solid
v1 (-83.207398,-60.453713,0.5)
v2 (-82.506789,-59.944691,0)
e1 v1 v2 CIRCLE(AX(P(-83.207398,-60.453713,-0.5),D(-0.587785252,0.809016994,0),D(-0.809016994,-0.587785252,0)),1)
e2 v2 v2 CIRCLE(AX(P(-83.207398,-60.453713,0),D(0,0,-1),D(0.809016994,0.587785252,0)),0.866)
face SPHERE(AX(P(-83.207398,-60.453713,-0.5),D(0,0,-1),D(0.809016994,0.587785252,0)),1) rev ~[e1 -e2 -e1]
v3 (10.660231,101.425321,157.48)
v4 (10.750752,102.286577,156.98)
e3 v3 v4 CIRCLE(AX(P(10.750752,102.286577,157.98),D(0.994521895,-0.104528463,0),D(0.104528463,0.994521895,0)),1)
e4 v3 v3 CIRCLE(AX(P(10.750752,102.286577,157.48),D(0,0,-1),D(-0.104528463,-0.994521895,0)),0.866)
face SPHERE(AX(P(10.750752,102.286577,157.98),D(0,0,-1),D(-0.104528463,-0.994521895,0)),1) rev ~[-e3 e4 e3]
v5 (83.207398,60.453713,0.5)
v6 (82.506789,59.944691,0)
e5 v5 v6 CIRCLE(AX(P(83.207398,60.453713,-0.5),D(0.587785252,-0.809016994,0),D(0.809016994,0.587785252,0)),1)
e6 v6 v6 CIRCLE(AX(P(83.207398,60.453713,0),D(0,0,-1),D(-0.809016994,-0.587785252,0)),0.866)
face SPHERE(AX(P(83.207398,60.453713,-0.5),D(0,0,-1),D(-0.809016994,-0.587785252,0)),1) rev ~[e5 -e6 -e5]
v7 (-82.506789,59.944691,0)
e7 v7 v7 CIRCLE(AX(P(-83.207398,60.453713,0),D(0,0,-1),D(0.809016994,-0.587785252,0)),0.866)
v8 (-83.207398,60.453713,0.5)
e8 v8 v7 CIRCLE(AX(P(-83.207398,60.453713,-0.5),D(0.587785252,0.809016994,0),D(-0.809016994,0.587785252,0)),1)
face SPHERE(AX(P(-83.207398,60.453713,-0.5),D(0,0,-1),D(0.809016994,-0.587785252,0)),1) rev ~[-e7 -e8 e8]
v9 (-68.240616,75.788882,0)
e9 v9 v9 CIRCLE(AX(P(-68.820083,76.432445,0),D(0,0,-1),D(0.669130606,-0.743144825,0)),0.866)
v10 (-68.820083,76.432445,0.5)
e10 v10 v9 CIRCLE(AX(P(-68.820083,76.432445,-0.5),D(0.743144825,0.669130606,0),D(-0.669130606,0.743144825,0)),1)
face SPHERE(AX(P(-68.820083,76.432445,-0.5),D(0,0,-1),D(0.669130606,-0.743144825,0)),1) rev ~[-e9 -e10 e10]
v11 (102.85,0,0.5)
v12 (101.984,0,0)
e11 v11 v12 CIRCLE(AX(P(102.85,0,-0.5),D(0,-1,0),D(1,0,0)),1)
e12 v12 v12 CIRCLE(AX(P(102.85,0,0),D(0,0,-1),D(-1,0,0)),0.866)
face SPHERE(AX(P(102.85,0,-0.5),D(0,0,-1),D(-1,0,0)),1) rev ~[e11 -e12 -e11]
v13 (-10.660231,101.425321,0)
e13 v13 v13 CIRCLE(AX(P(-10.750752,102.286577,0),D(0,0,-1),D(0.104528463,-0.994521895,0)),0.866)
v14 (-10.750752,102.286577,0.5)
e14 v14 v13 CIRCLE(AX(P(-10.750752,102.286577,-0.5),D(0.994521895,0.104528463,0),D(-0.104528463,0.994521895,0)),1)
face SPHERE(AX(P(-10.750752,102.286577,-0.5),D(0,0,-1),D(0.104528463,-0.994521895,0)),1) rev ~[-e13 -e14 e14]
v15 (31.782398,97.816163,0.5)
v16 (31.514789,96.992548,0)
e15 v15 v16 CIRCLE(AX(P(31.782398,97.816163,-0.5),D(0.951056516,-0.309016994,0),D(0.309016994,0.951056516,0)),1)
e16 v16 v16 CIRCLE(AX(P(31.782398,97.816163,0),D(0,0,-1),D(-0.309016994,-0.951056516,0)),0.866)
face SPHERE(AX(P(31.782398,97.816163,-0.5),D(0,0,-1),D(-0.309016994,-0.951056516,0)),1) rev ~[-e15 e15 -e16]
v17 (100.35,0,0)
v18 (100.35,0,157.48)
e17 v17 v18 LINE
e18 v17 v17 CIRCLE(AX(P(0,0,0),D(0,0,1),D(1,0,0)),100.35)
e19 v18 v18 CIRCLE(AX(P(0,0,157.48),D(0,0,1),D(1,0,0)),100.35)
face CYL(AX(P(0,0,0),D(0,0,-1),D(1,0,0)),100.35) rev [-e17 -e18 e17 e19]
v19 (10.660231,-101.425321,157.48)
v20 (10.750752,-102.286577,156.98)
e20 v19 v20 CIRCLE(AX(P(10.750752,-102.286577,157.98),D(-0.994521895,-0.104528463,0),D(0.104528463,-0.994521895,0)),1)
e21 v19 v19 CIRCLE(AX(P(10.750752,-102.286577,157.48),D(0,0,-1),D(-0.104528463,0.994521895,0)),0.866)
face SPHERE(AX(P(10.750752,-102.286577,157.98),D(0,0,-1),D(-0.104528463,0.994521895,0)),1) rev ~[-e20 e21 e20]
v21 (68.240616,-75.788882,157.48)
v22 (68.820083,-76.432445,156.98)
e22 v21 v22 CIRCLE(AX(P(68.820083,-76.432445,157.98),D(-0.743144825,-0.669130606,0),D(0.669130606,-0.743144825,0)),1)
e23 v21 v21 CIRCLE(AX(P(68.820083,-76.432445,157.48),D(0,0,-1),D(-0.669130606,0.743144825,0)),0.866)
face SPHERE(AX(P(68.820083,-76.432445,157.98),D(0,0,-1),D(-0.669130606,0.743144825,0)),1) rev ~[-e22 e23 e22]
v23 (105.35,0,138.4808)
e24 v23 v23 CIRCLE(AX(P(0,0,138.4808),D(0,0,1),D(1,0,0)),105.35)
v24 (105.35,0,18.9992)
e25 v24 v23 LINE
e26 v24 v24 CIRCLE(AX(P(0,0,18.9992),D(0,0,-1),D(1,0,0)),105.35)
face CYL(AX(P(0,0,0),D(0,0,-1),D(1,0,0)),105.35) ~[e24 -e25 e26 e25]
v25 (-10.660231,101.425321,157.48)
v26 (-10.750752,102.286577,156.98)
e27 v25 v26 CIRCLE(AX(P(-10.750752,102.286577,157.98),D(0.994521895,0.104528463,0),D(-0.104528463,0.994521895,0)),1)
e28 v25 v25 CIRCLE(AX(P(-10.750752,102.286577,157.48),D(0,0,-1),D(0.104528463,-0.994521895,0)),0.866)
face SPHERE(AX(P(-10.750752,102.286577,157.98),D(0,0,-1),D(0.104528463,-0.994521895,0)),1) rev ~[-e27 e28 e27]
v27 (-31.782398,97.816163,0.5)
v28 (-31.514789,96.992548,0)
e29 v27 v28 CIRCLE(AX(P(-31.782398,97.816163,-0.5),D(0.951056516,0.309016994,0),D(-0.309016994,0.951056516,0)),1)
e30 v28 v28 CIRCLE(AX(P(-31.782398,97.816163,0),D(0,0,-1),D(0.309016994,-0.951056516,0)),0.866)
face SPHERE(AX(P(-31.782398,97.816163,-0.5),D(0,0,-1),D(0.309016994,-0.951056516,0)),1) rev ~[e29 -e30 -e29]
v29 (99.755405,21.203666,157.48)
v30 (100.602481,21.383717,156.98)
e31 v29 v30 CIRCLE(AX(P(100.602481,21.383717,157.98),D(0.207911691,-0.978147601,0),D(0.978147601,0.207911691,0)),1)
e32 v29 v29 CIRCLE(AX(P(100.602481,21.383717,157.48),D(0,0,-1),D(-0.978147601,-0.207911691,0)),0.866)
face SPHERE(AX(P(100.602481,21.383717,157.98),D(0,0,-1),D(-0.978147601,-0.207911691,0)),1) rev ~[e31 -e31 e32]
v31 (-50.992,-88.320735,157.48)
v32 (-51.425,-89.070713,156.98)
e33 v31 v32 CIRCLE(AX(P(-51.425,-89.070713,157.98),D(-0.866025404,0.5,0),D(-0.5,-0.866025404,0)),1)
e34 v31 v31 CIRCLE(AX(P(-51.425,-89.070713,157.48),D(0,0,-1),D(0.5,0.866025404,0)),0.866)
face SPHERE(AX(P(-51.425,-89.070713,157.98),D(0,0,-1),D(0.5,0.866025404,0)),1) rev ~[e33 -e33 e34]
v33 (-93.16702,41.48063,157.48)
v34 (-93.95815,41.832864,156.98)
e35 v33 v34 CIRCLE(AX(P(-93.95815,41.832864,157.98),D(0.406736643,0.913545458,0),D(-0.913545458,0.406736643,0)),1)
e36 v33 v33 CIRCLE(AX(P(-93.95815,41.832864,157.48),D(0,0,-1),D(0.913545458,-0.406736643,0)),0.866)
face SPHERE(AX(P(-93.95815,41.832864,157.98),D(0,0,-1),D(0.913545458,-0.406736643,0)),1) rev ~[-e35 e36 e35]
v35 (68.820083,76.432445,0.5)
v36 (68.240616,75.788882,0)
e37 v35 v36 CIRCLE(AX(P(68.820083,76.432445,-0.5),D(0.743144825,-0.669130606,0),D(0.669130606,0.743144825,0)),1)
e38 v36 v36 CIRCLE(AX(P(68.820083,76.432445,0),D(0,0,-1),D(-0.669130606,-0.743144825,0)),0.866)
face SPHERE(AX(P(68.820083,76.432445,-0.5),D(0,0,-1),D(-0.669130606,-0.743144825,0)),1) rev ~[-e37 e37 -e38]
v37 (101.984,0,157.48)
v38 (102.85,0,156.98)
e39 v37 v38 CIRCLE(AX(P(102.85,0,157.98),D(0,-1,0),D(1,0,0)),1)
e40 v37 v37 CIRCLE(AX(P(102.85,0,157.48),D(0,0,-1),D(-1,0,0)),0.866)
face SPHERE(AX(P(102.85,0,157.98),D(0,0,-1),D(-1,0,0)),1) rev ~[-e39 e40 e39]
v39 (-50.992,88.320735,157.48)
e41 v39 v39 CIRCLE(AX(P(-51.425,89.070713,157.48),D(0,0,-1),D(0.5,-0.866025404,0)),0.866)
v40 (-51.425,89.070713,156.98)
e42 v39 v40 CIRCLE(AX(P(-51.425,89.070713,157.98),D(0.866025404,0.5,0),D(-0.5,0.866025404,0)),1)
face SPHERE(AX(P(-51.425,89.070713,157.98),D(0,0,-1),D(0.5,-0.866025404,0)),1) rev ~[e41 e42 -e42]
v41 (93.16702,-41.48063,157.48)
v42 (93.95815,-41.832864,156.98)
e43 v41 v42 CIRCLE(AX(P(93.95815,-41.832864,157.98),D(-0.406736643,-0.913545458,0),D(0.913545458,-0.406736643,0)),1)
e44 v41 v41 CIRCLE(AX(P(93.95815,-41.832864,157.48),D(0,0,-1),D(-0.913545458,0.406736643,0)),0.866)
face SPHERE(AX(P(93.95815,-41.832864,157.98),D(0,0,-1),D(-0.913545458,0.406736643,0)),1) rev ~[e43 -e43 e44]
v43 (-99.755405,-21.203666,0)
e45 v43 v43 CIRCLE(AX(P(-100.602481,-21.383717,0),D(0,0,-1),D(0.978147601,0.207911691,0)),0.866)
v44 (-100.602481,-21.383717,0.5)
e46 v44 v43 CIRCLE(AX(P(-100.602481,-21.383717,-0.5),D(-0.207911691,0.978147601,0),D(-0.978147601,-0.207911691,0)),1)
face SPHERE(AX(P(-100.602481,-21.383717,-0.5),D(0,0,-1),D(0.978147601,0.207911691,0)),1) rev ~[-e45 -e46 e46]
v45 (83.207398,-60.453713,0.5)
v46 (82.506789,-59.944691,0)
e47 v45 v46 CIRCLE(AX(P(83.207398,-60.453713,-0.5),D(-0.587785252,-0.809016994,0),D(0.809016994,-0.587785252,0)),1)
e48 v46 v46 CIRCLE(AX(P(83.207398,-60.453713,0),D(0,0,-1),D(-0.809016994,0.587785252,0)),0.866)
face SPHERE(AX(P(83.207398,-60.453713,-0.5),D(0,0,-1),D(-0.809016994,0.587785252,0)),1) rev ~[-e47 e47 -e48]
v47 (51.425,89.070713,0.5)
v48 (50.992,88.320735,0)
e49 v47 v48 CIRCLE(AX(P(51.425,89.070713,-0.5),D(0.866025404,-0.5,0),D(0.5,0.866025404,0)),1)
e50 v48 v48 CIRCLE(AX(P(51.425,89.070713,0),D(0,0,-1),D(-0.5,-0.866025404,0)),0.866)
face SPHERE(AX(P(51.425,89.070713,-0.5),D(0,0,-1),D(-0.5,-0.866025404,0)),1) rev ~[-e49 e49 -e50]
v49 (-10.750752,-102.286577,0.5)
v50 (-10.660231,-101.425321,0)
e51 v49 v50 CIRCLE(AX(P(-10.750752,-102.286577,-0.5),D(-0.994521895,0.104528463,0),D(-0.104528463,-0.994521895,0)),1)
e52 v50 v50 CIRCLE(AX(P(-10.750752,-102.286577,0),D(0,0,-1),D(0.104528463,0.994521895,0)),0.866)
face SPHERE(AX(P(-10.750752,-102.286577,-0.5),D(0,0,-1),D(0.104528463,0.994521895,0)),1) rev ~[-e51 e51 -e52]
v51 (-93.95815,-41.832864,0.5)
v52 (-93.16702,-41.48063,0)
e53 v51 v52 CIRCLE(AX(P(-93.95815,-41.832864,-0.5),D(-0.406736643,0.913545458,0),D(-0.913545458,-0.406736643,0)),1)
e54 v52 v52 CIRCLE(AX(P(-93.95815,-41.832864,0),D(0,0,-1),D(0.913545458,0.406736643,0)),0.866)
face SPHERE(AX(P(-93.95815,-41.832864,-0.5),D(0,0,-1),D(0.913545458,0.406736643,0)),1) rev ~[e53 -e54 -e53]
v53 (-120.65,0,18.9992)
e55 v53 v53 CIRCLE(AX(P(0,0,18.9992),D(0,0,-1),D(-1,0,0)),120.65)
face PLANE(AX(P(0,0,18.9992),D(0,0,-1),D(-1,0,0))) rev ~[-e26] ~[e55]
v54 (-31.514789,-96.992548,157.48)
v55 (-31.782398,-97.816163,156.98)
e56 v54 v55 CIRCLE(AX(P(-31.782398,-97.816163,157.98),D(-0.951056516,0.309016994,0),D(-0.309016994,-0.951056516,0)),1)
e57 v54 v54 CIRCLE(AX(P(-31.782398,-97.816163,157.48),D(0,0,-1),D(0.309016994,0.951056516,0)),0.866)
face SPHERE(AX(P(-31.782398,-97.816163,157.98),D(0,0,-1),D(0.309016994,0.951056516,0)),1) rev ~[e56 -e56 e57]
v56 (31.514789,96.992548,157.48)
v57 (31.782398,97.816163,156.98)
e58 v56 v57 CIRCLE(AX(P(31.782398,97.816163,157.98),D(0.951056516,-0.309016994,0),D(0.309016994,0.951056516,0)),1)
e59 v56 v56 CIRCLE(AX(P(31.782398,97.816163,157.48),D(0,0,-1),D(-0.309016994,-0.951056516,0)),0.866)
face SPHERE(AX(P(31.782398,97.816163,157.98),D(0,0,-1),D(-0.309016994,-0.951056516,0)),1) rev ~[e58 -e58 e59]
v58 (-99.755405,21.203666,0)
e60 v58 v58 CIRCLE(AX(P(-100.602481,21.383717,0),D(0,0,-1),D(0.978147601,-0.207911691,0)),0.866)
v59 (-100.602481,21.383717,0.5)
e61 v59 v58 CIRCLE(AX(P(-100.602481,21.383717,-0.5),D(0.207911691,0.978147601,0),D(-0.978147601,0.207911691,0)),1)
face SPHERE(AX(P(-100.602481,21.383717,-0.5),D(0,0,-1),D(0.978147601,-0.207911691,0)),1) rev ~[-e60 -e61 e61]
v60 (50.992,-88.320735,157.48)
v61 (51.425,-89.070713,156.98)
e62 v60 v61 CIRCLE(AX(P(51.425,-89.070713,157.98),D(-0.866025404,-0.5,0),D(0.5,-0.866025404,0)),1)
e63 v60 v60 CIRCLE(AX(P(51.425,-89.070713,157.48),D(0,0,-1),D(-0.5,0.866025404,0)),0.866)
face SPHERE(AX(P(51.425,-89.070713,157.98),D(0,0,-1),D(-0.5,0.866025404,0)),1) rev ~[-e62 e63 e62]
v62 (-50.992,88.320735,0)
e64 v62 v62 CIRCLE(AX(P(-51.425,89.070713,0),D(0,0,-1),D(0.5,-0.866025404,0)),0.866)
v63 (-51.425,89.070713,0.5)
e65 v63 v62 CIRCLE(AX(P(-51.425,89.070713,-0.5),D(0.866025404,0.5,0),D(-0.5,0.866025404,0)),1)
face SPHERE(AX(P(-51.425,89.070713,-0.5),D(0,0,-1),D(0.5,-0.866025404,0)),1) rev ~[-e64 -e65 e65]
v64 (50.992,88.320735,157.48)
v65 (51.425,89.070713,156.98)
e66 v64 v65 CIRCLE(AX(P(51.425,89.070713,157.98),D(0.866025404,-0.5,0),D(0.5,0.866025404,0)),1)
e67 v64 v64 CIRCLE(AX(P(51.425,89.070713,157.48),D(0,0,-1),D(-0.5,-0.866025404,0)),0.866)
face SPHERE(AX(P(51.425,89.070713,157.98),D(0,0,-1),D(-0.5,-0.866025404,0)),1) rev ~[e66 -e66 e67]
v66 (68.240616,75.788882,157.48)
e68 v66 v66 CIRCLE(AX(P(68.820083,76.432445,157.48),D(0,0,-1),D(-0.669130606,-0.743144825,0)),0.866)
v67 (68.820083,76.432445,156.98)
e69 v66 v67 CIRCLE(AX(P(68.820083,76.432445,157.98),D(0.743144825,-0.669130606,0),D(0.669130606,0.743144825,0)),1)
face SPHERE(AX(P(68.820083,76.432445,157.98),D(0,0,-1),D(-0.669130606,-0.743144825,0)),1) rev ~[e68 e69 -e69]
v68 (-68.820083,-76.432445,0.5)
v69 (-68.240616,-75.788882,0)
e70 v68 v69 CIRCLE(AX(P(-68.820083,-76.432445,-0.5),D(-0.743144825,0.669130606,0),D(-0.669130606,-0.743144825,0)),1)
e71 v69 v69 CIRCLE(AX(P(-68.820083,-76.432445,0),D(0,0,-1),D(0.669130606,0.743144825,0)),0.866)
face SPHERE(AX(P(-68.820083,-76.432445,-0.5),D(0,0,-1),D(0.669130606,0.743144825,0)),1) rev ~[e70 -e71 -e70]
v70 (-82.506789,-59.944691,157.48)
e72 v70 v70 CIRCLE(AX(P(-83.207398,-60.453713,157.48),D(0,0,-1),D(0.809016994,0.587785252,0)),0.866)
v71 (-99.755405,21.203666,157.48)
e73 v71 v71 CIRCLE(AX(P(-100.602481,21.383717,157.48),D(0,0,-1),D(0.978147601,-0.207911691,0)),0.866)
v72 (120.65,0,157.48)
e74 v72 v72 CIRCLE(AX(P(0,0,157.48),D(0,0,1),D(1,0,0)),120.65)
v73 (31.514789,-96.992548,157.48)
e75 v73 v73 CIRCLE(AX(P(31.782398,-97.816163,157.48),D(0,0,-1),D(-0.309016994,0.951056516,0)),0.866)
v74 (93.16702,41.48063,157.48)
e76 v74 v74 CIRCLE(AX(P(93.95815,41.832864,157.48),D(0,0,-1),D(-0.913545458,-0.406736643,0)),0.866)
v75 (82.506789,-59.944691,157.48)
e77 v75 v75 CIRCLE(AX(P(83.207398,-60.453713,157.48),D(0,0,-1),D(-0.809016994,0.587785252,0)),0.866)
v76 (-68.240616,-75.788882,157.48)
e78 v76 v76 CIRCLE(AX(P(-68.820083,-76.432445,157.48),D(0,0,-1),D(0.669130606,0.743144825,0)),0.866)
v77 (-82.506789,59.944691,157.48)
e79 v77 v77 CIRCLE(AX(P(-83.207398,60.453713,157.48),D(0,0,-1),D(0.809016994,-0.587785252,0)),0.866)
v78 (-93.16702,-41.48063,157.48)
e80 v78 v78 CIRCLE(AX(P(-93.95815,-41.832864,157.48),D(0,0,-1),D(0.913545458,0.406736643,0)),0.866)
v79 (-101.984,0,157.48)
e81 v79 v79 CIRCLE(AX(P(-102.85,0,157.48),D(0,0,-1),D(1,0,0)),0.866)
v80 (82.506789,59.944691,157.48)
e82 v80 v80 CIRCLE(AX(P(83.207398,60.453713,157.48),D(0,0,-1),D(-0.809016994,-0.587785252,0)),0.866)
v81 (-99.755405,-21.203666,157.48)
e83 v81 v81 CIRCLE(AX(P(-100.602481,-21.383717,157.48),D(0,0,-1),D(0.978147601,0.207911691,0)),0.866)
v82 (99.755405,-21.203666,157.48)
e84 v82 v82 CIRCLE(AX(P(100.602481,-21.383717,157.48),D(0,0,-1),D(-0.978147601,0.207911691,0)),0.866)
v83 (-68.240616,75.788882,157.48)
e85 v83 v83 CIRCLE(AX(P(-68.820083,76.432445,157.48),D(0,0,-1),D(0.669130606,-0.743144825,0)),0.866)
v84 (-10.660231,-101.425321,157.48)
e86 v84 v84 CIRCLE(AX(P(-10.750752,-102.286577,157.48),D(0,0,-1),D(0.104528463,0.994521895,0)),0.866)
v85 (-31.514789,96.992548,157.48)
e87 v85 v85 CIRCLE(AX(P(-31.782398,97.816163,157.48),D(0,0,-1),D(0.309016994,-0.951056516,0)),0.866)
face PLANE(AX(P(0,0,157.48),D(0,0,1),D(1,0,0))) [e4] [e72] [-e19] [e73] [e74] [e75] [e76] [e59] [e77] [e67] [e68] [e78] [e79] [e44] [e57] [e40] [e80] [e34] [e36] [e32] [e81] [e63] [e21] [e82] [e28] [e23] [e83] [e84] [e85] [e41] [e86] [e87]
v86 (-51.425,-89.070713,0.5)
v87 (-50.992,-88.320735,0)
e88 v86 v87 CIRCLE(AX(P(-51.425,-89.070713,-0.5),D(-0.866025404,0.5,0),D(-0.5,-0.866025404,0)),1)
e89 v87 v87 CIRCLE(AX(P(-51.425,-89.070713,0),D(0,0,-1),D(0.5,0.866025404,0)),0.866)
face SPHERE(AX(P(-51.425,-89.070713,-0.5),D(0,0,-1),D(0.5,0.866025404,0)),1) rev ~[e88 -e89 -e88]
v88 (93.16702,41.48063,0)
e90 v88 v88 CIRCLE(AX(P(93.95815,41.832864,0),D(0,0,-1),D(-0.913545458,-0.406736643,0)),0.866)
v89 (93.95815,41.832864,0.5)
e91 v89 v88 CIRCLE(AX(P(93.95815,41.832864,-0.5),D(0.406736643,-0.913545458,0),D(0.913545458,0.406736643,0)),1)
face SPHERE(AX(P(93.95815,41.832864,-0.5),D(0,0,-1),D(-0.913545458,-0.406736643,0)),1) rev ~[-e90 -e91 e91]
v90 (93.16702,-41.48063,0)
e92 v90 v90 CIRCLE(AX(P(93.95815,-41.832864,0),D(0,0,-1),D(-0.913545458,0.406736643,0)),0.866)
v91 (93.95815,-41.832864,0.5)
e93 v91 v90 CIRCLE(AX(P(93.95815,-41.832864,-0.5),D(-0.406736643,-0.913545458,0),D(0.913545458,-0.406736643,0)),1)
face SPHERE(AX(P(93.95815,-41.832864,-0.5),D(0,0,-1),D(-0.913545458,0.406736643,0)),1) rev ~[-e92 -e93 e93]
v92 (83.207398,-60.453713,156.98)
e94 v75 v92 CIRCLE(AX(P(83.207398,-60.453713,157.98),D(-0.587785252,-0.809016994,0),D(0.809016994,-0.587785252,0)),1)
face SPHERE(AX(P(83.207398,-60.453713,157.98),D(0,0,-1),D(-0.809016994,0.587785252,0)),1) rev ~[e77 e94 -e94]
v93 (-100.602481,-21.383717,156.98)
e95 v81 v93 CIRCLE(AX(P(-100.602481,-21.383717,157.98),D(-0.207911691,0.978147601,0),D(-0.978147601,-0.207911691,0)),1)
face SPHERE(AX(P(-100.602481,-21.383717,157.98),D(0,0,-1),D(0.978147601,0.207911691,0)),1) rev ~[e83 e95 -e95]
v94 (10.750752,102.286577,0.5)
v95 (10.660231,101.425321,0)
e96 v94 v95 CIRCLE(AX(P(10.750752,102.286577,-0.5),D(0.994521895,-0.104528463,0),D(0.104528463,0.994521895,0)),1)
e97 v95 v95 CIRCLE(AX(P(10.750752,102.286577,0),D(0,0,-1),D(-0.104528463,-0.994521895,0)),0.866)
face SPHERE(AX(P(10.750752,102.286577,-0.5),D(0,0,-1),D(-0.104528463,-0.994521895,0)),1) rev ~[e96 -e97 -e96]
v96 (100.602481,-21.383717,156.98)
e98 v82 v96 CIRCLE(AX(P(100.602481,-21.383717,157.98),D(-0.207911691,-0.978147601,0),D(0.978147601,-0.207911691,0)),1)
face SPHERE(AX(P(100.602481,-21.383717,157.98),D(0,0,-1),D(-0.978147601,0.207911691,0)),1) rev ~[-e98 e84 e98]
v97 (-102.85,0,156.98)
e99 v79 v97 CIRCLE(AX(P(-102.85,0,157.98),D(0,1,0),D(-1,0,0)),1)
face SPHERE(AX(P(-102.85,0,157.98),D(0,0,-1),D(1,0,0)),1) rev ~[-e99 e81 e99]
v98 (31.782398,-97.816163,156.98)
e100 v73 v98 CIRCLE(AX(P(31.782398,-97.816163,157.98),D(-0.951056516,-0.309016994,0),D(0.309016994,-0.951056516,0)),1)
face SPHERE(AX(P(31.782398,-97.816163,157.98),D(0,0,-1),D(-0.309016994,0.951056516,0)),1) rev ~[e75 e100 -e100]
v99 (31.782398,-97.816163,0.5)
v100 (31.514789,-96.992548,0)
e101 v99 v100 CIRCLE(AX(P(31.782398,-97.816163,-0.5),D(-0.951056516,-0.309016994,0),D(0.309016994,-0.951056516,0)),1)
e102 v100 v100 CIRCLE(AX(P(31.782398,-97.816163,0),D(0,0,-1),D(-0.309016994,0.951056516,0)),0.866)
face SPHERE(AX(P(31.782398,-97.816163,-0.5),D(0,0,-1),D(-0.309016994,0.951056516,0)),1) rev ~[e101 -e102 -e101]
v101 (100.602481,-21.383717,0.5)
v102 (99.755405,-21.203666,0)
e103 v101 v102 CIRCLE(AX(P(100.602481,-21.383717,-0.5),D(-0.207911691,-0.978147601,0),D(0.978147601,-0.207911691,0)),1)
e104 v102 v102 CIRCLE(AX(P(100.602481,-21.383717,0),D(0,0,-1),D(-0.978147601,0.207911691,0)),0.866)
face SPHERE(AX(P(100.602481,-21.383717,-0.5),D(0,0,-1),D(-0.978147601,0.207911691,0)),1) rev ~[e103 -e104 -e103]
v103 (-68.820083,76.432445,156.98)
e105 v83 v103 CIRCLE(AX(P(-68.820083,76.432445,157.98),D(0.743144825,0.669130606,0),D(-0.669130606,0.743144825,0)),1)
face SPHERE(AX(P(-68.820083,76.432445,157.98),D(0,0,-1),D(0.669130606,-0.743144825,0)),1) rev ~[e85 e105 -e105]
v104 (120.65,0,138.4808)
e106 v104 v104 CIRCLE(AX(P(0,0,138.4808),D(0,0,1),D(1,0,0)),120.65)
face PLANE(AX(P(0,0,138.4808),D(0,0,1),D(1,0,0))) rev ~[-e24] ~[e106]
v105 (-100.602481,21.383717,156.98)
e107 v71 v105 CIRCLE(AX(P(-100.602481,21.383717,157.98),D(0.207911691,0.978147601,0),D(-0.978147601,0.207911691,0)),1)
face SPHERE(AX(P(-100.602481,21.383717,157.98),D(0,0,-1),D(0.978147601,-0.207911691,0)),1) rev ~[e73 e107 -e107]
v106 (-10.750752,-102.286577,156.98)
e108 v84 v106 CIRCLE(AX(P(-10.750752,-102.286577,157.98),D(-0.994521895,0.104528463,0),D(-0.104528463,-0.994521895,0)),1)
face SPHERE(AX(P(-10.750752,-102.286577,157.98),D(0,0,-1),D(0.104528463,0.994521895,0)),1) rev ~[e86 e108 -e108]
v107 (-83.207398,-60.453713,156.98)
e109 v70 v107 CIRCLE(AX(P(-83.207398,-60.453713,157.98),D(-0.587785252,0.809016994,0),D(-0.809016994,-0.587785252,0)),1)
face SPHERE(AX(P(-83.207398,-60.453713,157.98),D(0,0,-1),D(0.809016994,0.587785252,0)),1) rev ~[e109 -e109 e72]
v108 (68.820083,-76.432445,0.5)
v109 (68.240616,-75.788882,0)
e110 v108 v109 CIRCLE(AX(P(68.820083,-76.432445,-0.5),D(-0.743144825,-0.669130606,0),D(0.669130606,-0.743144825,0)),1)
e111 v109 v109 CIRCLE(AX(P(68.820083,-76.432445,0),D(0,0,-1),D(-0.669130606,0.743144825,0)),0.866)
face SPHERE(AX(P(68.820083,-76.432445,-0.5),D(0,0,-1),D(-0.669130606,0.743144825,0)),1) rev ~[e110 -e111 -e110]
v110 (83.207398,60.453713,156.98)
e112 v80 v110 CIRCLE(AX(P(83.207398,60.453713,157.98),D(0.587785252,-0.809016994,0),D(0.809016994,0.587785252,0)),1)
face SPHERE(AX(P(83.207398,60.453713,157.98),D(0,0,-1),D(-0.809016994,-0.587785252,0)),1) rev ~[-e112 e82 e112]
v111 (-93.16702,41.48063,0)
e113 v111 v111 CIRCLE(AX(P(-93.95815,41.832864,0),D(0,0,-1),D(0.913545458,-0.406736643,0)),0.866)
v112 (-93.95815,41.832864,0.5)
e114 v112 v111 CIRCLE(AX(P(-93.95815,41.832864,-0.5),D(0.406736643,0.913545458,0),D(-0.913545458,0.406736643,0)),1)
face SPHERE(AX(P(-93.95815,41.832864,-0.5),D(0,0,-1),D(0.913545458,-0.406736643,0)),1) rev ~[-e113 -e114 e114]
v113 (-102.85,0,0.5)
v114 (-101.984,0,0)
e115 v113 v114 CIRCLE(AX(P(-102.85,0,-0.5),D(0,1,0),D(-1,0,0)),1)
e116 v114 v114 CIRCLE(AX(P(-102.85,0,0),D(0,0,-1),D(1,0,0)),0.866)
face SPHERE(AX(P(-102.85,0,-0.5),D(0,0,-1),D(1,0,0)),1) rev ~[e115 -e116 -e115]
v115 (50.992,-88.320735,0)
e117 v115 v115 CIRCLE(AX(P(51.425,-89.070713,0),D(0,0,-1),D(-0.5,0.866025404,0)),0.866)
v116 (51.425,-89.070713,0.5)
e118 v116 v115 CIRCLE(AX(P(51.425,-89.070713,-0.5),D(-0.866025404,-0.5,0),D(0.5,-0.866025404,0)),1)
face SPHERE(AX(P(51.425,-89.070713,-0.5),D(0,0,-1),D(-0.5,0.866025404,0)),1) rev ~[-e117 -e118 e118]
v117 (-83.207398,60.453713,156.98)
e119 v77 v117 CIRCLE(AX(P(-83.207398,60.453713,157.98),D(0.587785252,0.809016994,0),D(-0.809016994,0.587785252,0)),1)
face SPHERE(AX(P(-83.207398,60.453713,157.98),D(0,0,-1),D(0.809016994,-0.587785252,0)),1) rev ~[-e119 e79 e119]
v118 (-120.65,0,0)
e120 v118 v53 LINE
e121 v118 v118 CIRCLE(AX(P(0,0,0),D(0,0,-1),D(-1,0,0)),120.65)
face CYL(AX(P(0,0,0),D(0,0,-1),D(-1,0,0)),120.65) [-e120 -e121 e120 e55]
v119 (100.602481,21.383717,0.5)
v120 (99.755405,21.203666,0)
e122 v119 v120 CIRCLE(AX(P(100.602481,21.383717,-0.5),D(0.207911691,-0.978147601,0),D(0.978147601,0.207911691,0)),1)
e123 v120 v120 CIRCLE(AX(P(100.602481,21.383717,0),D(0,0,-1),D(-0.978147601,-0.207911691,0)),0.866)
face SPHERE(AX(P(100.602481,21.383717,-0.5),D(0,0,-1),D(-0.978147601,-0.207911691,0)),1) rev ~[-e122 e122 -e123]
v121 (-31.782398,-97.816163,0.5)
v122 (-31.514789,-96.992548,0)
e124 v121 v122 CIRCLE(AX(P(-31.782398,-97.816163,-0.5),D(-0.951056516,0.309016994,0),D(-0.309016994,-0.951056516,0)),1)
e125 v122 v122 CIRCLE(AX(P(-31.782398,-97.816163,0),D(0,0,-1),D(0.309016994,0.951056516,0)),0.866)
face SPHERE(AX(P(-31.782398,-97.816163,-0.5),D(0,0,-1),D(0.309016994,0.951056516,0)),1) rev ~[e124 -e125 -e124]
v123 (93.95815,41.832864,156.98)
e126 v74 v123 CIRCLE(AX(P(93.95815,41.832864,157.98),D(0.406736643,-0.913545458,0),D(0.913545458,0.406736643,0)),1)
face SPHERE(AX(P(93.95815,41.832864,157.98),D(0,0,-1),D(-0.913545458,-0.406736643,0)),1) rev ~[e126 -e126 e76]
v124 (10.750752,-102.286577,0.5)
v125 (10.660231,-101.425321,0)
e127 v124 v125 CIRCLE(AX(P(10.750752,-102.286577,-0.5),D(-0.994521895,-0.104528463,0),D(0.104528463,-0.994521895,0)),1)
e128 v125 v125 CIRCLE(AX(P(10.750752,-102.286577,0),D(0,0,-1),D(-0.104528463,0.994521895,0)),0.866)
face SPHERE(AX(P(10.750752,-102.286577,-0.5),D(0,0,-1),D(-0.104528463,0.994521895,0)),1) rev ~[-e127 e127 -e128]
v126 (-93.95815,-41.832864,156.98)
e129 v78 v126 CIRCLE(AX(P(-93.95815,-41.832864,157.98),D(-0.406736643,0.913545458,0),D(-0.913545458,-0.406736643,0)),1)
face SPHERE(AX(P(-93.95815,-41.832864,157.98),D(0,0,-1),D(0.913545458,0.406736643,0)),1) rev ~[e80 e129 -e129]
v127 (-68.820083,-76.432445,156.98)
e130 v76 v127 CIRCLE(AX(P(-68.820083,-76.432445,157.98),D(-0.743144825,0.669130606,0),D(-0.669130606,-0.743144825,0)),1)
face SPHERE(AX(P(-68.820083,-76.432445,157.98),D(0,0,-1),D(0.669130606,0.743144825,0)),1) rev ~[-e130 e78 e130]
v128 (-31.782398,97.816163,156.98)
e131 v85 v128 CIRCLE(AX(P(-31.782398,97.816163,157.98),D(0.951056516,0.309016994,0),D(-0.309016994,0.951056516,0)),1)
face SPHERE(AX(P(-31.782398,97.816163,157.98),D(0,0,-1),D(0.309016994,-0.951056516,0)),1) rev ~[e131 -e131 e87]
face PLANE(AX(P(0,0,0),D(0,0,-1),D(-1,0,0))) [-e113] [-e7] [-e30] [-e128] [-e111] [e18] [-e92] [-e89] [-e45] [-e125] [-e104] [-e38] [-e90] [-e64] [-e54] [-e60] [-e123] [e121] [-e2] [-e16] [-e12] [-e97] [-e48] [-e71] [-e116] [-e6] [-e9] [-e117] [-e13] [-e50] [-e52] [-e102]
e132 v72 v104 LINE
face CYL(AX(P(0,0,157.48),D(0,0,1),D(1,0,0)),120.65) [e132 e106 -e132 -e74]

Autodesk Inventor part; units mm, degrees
ref_plane "YZ Plane" through (0, 0, 0) normal (1, 0, 0) x (0, 1, 0)
ref_plane "XZ Plane" through (0, 0, 0) normal (0, 1, 0) x (-1, 0, 0)
ref_plane "XY Plane" through (0, 0, 0) normal (0, 0, 1) x (1, 0, 0)
sketch "Sketch1" plane through (0, 0, 0) normal (0, 0, 1) x (1, 0, 0)
  circle A0 centre (0, 0) radius 100.35
  circle A1 centre (0, 0) radius 105.35
  dimension "d0" = 200.7
  dimension "d1" = 210.7
extrude "Extrusion1" add sketch "Sketch1" along normal blind 157.48
sketch "Sketch3" plane through (0, 0, 0) normal (0, 1, 0) x (-1, 0, 0)
  line L0 (-105.35, 157.48) -> (105.35, 157.48) projected
  line L1 (-105.35, 0) -> (105.35, 0) projected
  line L2 (100.35, 0) -> (100.35, 157.48) projected
  line L3 (105.35, 0) -> (105.35, 157.48) projected
  line L4 (102.85, 157.48) -> (102.85, 55.0181)
  line L5 (102.85, 143.2846) -> (100.35, 143.2846)
  line L6 (102.85, 140.5603) -> (105.35, 140.5603)
  line L7 (102.85, 157.48) -> (102.85, 158.3207)
  circle A0 centre (102.85, 157.98) radius 1
  line L8 (102.85, 157.48) -> (102.85, 156.98)
  line L9 (102.85, 157.48) -> (103.716, 157.48)
  arc A1 (102.85, 156.98) -> (103.716, 157.48) centre (102.85, 157.98) ccw
  line L10 (102.85, 157.48) -> (102.85, 156.98)
  line L11 (102.85, 157.48) -> (103.716, 157.48)
  arc A2 (102.85, 156.98) -> (103.716, 157.48) centre (102.85, 157.98) ccw
  line L12 (102.85, 157.48) -> (102.85, 156.98)
  line L13 (102.85, 157.48) -> (101.984, 157.48)
  arc A3 (101.984, 157.48) -> (102.85, 156.98) centre (102.85, 157.98) ccw
  dimension "d15" = 2
  dimension "d16" = 0.5
revolve "Revolution1" cut sketch "Sketch3" angle 360 about axis through (-102.85, 0, 157.48) along (0, 0, -1) picked at (102.3136, 157.4236) contours L0 L4 A0
pattern_circular "Circular Pattern1" count 30 over 360 about axis through (0, 0, 0) along (0, 0, 1) of "Revolution1"
sketch "Sketch4" plane through (0, 0, 0) normal (0, 1, 0) x (-1, 0, 0)
  line L0 (-100.35, 157.48) -> (100.35, 157.48) projected
  line L1 (100.35, 0) -> (-100.35, 0) projected
  line L2 (105.35, 0) -> (105.35, 157.48) projected
  line L3 (-105.35, 0) -> (105.35, 0) projected
  line L4 (100.35, 0) -> (100.35, 157.48) projected
  line L5 (102.85, 0) -> (102.85, 39.0845)
  line L6 (102.85, 39.0845) -> (102.85, 4.4381)
  line L7 (100.35, 4.4381) -> (102.85, 4.4381)
  line L8 (102.85, 5.9556) -> (105.35, 5.9556)
  line L9 (102.85, 0) -> (102.85, -6.1846)
  circle A0 centre (102.85, -0.5) radius 1
  line L10 (102.85, 0.5) -> (102.85, 0)
  line L11 (102.85, 0) -> (103.716, 0)
  line L12 (102.85, 0) -> (101.984, 0)
  arc A1 (102.85, 0.5) -> (101.984, 0) centre (102.85, -0.5) ccw
  arc A2 (103.716, 0) -> (102.85, 0.5) centre (102.85, -0.5) ccw
  dimension "d21" = 2
  dimension "d22" = 0.5
revolve "Revolution2" cut sketch "Sketch4" angle 360 about axis through (-102.85, 0, 0.5) along (0, 0, -1) picked at (102.3136, 0.0564) contours L3 A0 L5
pattern_circular "Circular Pattern2" count 30 over 360 about axis through (0, 0, 0) along (0, 0, 1) of "Revolution2"
sketch "Sketch5" plane through (0, 0, 157.48) normal (0, 0, 1) x (1, 0, 0)
  circle A0 centre (0, 0) radius 105.35 projected
  circle A1 centre (0, 0) radius 120.65
  dimension "d27" = 241.3
extrude "Extrusion2" add sketch "Sketch5" against normal blind 18.9992
sketch "Sketch6" plane through (0, 0, 0) normal (0, 0, -1) x (-1, 0, 0)
  circle A0 centre (0, 0) radius 105.35 projected
  circle A1 centre (0, 0) radius 120.65
  dimension "d30" = 241.3
extrude "Extrusion3" add sketch "Sketch6" against normal blind 18.9992
equation "\"d30\" = d27"
properties part number "Electrode 5_6_7"
